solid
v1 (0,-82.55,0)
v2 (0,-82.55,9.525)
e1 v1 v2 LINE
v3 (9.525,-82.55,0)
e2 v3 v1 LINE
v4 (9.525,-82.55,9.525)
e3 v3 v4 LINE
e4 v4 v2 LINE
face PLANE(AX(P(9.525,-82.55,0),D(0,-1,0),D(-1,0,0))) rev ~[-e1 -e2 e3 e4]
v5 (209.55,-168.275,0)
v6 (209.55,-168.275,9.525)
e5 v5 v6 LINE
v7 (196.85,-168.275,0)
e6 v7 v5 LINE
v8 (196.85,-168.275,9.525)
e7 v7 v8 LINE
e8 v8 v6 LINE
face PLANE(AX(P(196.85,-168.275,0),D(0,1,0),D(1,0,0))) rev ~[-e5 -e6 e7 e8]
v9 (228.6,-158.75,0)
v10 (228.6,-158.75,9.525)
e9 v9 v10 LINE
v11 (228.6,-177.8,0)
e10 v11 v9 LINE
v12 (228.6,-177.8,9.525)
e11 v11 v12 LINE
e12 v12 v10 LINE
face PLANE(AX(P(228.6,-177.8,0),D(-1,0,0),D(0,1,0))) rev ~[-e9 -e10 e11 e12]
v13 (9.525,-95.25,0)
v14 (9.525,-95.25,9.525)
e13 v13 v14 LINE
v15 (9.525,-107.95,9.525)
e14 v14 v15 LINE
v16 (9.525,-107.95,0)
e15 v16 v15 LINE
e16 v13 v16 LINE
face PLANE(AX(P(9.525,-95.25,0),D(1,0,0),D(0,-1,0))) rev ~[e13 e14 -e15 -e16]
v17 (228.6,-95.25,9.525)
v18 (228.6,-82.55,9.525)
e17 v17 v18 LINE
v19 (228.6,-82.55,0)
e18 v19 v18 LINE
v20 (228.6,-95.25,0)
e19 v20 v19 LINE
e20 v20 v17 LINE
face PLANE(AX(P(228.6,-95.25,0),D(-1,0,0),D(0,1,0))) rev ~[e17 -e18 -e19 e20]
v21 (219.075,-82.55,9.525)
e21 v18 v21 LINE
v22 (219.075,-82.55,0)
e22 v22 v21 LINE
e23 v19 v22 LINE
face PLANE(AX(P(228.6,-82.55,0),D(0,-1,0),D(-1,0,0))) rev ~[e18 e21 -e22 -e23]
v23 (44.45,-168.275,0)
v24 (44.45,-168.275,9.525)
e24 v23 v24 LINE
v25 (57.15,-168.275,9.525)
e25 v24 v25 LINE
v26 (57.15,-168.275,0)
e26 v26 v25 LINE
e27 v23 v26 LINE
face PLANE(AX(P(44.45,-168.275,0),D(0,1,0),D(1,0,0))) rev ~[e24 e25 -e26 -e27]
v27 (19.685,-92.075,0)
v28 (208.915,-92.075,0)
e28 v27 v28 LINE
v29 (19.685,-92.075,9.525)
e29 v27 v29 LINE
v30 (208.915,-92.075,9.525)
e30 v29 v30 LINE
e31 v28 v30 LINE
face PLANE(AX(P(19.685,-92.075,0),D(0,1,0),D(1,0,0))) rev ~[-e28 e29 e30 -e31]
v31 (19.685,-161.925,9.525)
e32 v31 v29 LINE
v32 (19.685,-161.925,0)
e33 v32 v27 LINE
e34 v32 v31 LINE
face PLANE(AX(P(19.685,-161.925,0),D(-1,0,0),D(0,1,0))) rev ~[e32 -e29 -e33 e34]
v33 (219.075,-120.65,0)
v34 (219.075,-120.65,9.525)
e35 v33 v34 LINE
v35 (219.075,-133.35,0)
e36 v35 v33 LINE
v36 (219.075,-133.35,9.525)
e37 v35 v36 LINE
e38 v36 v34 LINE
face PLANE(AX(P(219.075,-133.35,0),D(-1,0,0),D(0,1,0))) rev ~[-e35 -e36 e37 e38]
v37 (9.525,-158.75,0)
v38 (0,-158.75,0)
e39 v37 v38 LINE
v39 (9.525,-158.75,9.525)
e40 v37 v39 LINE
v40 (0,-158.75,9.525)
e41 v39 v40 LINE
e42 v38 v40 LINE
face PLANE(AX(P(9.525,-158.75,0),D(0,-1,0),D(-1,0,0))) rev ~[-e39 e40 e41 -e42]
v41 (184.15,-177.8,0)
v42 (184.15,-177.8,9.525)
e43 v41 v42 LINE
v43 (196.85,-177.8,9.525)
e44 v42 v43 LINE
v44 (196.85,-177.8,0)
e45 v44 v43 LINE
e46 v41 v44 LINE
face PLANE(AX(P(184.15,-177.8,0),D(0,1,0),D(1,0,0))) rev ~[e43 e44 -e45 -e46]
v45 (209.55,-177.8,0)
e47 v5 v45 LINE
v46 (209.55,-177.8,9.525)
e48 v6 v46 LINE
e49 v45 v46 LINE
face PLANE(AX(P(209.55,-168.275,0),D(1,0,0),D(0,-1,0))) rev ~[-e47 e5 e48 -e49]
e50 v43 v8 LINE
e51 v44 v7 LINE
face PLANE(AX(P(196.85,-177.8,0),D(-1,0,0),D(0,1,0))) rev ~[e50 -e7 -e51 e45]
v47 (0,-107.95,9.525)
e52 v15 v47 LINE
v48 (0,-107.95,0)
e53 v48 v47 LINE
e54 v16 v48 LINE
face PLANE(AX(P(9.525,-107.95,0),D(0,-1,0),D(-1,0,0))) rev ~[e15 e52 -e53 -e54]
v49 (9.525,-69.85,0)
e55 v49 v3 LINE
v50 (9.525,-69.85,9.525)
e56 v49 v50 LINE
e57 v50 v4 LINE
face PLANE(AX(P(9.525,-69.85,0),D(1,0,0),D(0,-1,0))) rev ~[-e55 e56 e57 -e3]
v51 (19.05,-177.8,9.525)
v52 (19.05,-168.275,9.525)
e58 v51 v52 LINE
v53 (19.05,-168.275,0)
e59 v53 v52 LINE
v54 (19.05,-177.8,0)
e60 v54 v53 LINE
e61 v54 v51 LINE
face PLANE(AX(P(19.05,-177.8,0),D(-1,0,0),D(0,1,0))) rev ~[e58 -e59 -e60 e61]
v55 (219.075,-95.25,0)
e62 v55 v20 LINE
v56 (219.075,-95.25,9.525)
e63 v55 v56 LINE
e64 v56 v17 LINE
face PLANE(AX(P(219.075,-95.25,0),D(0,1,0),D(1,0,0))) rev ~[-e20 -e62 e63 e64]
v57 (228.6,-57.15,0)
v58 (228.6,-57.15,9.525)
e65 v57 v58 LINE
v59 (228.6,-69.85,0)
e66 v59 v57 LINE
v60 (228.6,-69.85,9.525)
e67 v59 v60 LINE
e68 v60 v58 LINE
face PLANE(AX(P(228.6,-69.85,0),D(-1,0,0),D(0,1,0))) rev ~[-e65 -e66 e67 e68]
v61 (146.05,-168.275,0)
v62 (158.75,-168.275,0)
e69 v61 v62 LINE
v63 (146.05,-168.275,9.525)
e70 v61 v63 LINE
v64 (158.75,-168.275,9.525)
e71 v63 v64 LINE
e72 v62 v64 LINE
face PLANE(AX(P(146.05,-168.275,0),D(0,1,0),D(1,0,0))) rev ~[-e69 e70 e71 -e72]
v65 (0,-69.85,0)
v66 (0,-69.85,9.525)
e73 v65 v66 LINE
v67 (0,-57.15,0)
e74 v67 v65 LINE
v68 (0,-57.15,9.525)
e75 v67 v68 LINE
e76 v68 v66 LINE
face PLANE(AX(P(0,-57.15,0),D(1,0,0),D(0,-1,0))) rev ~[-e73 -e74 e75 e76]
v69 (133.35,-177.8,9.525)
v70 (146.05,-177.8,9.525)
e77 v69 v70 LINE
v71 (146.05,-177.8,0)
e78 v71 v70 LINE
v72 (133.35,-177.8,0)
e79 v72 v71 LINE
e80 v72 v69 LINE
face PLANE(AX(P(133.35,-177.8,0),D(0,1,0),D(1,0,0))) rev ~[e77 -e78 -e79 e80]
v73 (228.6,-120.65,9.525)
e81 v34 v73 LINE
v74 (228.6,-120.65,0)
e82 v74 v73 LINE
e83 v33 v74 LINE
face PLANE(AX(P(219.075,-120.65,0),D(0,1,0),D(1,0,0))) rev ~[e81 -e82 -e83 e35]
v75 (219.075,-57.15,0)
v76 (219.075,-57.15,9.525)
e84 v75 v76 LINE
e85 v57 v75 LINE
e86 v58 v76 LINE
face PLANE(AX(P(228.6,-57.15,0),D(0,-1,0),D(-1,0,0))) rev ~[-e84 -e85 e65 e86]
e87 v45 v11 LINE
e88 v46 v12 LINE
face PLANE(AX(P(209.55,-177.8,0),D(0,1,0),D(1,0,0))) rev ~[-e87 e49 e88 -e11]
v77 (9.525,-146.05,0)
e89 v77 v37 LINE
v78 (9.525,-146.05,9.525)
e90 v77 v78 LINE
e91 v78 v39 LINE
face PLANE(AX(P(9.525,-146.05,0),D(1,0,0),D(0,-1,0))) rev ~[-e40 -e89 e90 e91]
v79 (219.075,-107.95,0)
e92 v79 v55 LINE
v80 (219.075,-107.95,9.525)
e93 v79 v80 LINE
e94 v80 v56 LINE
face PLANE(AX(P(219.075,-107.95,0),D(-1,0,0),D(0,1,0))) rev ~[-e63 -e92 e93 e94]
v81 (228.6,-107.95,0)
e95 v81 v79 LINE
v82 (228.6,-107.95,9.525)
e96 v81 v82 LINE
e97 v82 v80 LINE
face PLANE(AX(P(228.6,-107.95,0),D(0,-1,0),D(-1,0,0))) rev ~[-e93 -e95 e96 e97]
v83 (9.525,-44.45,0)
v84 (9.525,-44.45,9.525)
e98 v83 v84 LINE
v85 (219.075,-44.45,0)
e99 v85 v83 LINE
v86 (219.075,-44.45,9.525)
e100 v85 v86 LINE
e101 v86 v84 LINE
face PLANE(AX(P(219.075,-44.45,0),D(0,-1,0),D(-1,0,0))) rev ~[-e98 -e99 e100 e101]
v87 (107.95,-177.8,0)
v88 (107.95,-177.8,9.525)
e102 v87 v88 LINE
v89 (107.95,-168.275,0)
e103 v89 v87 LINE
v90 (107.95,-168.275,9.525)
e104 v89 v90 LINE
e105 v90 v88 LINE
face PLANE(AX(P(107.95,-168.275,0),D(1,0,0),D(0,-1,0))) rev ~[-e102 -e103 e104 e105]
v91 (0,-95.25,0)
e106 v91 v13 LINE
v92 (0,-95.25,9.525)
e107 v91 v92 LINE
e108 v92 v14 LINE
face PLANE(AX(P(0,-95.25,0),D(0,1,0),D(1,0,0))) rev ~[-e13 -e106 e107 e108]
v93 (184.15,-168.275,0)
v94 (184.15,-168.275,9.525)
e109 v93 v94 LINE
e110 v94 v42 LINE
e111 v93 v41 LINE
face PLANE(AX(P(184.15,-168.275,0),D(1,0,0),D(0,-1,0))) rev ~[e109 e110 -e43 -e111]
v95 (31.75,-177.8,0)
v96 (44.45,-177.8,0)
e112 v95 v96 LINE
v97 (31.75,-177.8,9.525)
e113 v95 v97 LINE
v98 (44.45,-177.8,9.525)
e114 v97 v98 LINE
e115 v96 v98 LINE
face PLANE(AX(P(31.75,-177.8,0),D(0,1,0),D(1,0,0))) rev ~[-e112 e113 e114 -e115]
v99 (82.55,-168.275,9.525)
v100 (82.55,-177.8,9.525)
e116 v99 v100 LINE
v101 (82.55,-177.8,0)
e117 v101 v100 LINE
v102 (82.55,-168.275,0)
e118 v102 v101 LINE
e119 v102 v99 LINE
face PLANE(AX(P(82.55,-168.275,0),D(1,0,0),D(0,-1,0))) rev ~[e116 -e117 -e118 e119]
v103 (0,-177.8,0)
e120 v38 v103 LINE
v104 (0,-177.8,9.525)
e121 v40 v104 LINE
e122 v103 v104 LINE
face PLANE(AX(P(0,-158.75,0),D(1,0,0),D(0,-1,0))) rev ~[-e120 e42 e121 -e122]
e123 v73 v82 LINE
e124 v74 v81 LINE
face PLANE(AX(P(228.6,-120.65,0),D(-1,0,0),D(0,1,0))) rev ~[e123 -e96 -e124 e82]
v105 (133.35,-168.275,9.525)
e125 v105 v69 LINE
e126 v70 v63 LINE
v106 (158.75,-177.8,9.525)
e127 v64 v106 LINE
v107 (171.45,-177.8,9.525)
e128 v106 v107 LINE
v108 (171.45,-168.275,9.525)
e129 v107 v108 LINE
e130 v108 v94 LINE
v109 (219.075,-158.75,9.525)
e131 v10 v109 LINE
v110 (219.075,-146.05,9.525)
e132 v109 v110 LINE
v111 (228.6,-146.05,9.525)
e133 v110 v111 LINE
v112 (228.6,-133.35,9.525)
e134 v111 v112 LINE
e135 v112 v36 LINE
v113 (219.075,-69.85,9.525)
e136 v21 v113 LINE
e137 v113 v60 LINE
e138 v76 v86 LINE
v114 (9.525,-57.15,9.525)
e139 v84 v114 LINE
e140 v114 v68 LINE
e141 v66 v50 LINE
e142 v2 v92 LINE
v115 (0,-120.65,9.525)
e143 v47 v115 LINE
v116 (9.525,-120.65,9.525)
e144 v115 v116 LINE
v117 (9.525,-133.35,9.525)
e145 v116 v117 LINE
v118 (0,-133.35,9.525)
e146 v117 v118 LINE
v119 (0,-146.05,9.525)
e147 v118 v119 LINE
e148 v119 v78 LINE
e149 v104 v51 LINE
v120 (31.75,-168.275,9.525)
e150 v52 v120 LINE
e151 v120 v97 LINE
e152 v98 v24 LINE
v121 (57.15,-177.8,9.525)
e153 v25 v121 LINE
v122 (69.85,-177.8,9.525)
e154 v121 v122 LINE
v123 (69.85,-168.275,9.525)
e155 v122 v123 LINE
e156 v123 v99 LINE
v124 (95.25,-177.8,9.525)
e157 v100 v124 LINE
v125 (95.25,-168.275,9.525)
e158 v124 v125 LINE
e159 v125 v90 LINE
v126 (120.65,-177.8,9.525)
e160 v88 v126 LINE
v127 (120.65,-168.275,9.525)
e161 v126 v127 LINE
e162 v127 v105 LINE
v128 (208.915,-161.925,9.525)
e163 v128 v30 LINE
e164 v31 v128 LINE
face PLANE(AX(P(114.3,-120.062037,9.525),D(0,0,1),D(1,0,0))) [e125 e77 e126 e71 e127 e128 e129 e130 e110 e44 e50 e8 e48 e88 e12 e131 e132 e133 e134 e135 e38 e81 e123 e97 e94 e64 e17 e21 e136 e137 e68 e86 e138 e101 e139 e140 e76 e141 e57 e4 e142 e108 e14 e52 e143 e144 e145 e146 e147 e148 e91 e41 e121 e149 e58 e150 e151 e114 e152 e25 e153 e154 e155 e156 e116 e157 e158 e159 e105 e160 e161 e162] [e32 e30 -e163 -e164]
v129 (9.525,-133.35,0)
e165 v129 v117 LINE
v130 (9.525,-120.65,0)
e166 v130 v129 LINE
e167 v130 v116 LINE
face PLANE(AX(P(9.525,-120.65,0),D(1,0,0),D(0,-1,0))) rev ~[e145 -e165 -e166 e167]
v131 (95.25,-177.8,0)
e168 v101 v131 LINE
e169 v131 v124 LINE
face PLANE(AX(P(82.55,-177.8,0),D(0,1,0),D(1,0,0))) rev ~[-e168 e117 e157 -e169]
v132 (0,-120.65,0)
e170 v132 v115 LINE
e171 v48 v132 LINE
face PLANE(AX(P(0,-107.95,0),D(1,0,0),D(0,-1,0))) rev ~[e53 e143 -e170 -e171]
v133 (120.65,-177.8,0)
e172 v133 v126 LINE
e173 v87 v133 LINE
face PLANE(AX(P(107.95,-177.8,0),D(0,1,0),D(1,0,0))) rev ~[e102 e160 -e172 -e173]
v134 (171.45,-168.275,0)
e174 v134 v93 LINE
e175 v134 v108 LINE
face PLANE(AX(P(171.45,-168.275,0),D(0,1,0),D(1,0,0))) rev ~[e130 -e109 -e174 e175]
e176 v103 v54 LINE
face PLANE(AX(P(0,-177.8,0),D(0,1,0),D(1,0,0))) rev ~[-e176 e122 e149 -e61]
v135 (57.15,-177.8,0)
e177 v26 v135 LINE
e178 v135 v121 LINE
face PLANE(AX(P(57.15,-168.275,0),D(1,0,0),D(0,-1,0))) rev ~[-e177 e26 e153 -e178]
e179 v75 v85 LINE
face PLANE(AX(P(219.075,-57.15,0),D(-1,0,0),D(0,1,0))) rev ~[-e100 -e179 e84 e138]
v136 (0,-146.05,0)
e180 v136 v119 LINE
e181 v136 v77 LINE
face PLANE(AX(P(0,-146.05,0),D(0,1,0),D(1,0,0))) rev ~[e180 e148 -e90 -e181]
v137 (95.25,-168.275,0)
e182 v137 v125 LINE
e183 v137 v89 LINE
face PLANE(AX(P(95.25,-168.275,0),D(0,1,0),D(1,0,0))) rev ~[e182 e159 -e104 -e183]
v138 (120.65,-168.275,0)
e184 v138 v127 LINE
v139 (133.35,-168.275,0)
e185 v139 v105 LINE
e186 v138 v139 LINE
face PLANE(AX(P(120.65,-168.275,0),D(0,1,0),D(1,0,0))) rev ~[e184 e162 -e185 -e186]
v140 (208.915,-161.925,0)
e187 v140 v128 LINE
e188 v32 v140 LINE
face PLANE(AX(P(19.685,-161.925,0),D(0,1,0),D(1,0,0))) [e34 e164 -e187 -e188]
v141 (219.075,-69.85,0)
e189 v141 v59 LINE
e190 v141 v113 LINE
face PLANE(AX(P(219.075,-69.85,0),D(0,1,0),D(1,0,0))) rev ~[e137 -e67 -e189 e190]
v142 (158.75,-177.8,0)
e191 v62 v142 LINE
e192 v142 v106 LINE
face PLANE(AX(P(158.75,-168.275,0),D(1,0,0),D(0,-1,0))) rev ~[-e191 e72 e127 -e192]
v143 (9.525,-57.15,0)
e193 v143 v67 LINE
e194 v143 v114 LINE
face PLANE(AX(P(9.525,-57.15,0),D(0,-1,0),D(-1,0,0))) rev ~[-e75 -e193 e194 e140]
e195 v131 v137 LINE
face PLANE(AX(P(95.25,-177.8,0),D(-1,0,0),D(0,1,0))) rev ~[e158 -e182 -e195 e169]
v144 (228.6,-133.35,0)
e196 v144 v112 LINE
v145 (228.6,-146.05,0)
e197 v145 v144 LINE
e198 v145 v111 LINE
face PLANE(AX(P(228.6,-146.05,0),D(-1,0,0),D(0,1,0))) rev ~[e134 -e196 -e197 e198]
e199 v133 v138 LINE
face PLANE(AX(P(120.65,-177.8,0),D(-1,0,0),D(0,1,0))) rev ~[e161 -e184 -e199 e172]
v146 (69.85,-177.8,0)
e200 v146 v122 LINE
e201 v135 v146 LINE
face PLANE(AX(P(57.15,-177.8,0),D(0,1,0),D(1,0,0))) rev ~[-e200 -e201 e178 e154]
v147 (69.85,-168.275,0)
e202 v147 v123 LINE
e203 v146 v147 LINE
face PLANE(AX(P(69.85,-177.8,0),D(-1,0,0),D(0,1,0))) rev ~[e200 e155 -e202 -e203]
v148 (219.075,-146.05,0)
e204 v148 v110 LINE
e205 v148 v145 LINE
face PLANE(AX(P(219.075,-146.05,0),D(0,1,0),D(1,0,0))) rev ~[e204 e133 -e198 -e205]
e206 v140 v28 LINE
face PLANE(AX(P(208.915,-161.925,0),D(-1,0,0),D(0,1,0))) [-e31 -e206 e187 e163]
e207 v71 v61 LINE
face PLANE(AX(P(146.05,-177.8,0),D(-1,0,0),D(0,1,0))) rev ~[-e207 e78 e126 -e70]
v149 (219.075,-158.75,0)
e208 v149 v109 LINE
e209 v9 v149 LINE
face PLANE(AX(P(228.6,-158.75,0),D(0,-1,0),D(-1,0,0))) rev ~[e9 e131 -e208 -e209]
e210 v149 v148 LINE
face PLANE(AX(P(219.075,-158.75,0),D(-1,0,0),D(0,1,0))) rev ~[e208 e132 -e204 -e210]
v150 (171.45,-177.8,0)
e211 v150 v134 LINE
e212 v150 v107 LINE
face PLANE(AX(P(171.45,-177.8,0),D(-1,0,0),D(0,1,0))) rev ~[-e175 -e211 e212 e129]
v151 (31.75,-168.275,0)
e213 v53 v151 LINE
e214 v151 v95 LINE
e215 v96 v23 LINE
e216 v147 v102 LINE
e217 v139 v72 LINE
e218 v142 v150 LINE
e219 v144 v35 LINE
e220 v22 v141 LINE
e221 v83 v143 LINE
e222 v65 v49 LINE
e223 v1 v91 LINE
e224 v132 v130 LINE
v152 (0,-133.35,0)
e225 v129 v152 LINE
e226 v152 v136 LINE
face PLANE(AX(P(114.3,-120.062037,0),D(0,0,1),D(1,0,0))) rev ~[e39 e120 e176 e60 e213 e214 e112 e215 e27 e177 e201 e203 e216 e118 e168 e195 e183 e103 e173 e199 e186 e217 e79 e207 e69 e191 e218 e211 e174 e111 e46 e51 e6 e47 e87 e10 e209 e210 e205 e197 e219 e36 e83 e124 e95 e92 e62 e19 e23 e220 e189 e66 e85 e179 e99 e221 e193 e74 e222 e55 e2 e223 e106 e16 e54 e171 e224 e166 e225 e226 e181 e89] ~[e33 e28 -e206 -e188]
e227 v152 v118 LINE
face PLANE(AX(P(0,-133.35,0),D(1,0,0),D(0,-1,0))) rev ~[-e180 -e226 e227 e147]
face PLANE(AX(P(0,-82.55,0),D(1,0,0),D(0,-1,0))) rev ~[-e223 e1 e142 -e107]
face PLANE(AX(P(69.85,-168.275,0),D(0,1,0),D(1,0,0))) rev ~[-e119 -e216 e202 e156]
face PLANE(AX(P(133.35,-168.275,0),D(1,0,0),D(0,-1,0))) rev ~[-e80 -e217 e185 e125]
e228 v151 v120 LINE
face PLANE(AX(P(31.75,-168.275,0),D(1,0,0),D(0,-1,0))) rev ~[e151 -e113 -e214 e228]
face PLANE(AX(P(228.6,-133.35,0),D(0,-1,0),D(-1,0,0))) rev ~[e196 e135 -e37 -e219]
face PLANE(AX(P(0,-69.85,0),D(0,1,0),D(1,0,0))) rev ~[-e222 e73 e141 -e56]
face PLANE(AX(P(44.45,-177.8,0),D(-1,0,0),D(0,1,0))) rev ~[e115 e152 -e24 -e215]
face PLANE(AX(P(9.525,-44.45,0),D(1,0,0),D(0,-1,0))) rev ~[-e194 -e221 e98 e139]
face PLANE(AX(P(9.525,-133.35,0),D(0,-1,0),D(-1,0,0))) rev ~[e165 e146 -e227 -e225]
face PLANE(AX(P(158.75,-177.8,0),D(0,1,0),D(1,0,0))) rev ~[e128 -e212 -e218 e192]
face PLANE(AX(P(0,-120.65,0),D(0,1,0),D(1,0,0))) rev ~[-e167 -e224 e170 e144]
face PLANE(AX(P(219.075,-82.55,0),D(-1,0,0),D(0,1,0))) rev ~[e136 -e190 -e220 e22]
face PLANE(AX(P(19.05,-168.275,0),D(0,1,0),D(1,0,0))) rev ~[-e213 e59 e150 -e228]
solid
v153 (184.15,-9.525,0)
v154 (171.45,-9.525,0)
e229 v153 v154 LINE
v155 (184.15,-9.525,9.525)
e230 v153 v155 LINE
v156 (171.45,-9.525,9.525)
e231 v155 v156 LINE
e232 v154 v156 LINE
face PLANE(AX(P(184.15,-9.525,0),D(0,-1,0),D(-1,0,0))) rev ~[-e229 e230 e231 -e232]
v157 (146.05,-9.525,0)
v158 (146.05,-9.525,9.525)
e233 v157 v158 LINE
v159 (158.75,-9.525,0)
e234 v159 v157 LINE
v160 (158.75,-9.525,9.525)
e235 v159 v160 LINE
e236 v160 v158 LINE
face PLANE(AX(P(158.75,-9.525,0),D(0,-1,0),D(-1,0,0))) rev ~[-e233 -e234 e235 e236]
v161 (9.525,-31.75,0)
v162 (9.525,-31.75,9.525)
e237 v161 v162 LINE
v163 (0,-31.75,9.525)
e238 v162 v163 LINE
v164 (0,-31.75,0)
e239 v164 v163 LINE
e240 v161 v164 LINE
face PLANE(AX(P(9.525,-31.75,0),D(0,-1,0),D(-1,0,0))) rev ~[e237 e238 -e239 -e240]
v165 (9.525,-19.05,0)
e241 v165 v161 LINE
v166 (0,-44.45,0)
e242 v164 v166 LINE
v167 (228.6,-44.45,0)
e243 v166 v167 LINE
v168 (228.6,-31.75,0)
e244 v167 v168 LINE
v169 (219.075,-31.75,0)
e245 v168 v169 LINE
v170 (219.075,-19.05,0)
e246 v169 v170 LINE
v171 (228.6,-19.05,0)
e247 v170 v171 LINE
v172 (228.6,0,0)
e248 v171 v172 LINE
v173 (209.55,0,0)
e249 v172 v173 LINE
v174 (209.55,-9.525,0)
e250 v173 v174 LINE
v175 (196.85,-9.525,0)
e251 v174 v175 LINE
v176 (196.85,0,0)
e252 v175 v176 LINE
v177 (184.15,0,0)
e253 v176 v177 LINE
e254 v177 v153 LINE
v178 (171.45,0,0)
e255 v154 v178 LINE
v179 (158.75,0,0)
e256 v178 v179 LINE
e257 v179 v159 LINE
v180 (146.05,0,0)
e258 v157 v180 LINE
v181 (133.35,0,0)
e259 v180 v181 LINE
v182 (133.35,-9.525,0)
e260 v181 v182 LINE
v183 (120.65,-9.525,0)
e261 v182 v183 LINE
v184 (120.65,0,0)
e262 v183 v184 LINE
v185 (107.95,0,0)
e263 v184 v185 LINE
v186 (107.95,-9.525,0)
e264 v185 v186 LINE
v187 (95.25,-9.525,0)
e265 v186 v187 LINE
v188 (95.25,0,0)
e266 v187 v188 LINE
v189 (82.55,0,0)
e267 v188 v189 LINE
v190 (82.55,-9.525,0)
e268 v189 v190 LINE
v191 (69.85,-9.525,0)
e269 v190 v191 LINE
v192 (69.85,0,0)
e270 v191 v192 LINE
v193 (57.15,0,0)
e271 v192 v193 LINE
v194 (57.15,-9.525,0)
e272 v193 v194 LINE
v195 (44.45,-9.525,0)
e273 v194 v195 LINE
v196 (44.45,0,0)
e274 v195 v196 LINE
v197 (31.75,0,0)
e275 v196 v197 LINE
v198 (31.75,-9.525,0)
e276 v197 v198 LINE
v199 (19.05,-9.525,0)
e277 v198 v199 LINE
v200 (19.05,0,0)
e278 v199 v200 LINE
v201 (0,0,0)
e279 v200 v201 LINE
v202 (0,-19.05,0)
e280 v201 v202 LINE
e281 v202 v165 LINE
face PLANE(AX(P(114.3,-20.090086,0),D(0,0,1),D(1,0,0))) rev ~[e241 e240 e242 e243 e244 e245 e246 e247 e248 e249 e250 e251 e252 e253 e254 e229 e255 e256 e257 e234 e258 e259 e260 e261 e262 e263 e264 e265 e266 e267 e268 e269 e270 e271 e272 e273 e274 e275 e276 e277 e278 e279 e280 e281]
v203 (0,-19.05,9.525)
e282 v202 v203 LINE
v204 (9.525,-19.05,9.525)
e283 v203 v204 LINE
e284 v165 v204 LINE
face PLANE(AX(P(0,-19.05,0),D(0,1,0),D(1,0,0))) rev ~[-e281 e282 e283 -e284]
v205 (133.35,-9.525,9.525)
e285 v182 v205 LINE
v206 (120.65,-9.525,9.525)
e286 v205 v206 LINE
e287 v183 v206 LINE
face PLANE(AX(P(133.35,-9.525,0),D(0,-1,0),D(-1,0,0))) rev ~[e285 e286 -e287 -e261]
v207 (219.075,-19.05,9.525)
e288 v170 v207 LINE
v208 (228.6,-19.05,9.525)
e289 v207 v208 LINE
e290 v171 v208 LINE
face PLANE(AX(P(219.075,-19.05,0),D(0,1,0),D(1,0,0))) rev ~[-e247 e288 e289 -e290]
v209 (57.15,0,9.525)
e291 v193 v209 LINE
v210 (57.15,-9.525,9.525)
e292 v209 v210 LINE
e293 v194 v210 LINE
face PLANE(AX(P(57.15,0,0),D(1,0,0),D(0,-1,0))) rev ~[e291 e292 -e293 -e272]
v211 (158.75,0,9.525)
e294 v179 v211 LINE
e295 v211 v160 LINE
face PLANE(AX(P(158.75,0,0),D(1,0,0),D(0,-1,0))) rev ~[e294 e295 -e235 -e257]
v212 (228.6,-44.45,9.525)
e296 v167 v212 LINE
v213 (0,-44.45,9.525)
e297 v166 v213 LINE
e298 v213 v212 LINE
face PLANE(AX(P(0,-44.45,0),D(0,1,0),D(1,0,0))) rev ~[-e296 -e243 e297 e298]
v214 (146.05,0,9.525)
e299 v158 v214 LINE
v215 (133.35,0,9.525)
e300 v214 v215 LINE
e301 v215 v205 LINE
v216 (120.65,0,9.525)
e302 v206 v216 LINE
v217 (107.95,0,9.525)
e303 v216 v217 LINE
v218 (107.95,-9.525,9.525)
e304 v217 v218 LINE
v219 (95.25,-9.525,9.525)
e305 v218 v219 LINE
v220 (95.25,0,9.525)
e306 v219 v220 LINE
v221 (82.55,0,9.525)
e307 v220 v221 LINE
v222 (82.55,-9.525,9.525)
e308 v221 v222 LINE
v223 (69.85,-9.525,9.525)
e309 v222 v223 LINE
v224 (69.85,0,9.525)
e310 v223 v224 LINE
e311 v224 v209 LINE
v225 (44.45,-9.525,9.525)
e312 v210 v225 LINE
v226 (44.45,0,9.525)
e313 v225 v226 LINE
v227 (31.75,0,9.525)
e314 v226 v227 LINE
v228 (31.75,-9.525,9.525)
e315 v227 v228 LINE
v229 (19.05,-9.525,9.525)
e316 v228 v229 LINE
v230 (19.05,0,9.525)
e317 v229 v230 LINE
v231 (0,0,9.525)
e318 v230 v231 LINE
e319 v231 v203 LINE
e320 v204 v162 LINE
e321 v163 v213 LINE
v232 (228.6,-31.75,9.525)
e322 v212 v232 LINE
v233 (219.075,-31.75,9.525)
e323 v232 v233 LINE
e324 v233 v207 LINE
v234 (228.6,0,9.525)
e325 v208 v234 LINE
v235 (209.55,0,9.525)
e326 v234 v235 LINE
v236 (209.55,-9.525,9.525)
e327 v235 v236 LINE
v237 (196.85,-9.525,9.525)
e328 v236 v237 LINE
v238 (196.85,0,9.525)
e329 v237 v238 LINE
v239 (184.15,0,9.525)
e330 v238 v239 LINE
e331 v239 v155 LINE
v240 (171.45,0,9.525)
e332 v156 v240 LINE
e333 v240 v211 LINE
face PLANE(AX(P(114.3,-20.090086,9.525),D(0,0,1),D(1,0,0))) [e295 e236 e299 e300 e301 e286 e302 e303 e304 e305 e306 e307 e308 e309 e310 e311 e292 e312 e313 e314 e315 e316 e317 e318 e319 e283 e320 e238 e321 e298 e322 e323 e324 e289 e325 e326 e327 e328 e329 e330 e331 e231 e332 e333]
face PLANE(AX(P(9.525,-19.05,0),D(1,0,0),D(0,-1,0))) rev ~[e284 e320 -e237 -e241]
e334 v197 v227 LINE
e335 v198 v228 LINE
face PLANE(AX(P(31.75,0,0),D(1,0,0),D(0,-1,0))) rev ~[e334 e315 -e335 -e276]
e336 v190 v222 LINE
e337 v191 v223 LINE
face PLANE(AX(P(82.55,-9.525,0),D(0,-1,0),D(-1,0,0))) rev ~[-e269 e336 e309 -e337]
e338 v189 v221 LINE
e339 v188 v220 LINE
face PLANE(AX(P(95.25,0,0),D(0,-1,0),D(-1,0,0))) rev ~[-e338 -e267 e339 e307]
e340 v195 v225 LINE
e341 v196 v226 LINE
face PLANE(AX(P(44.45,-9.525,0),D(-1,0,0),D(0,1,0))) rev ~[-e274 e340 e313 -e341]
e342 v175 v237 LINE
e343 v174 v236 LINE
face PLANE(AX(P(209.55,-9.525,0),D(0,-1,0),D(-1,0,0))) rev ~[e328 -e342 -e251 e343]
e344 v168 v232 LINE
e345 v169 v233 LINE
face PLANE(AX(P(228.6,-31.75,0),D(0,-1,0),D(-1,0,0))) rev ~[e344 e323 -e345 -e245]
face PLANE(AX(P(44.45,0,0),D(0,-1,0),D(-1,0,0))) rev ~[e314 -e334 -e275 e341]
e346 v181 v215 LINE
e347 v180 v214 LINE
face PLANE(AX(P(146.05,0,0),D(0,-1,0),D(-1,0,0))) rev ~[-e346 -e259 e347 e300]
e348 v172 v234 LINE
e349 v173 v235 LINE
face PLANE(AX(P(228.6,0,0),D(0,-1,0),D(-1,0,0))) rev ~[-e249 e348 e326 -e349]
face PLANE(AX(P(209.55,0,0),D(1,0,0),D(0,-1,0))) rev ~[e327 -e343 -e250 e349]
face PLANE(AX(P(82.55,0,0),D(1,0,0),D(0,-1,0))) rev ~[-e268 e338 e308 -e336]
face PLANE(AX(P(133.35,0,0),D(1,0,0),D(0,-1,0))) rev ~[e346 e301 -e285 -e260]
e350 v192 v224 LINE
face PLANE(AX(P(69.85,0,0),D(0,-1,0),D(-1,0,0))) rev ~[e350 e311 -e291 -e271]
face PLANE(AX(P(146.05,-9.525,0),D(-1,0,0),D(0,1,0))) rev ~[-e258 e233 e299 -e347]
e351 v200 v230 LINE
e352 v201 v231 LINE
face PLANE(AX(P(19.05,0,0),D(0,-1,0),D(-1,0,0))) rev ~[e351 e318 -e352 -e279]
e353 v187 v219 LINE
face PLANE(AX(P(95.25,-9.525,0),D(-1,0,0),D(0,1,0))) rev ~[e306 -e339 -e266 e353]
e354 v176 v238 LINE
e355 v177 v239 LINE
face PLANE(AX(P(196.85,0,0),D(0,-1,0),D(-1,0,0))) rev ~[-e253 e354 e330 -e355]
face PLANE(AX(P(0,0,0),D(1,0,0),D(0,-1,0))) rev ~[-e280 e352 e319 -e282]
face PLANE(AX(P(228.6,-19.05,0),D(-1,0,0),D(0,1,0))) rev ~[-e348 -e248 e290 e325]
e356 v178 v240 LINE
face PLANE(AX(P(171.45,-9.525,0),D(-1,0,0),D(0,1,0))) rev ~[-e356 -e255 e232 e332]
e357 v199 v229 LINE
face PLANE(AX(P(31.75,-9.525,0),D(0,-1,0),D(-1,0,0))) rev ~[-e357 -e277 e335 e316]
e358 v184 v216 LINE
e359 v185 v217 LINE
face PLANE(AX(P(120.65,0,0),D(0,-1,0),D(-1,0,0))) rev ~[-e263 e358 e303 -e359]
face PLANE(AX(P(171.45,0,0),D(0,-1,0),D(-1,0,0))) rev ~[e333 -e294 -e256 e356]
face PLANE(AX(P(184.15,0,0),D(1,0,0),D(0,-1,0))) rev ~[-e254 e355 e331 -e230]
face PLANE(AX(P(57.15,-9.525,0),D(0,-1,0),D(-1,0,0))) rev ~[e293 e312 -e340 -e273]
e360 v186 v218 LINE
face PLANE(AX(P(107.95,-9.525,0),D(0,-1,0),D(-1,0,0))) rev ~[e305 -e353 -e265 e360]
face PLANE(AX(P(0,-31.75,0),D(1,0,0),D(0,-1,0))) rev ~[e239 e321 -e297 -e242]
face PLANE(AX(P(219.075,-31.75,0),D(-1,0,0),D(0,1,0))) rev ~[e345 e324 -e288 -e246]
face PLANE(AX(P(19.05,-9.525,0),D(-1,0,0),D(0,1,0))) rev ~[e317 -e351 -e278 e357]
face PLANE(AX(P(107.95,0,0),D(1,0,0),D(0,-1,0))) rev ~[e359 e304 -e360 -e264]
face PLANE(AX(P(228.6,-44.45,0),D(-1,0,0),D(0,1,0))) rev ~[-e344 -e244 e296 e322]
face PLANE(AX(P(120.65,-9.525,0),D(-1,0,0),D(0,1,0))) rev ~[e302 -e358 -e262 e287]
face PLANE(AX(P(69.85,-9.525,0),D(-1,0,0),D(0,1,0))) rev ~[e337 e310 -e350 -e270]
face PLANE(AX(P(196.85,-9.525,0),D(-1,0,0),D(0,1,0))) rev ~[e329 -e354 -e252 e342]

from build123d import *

# Parameters (mm, degrees)
F1_DEPTH = 9.525
F0_W     = 189.23
F0_H     = 69.85
F2_DEPTH = 9.525


with BuildPart() as f1:
    # F0 (on Top) → F1 (new body)
    with BuildSketch(Plane.XY):
        Polygon((19.05, 0), (0, 0), (0, -19.05), (9.525, -19.05), (9.525, -31.75), (0, -31.75), (0, -44.45), (9.525, -44.45), (219.075, -44.45), (228.6, -44.45), (228.6, -31.75), (219.075, -31.75), (219.075, -19.05), (228.6, -19.05), (228.6, 0), (209.55, 0), (209.55, -9.525), (196.85, -9.525), (196.85, 0), (184.15, 0), (184.15, -9.525), (171.45, -9.525), (171.45, 0), (158.75, 0), (158.75, -9.525), (146.05, -9.525), (146.05, 0), (133.35, 0), (133.35, -9.525), (120.65, -9.525), (120.65, 0), (107.95, 0), (107.95, -9.525), (95.25, -9.525), (95.25, 0), (82.55, 0), (82.55, -9.525), (69.85, -9.525), (69.85, 0), (57.15, 0), (57.15, -9.525), (44.45, -9.525), (44.45, 0), (31.75, 0), (31.75, -9.525), (19.05, -9.525), align=None)
    extrude(amount=F1_DEPTH)


with BuildPart() as f2:
    # F0 (on Top) → F2 (new body)
    with BuildSketch(Plane.XY):
        Polygon((219.075, -44.45), (9.525, -44.45), (9.525, -57.15), (0, -57.15), (0, -69.85), (9.525, -69.85), (9.525, -82.55), (0, -82.55), (0, -95.25), (9.525, -95.25), (9.525, -107.95), (0, -107.95), (0, -120.65), (9.525, -120.65), (9.525, -133.35), (0, -133.35), (0, -146.05), (9.525, -146.05), (9.525, -158.75), (0, -158.75), (0, -177.8), (19.05, -177.8), (19.05, -168.275), (31.75, -168.275), (31.75, -177.8), (44.45, -177.8), (44.45, -168.275), (57.15, -168.275), (57.15, -177.8), (69.85, -177.8), (69.85, -168.275), (82.55, -168.275), (82.55, -177.8), (95.25, -177.8), (95.25, -168.275), (107.95, -168.275), (107.95, -177.8), (120.65, -177.8), (120.65, -168.275), (133.35, -168.275), (133.35, -177.8), (146.05, -177.8), (146.05, -168.275), (158.75, -168.275), (158.75, -177.8), (171.45, -177.8), (171.45, -168.275), (184.15, -168.275), (184.15, -177.8), (196.85, -177.8), (196.85, -168.275), (209.55, -168.275), (209.55, -177.8), (228.6, -177.8), (228.6, -158.75), (219.075, -158.75), (219.075, -146.05), (228.6, -146.05), (228.6, -133.35), (219.075, -133.35), (219.075, -120.65), (228.6, -120.65), (228.6, -107.95), (219.075, -107.95), (219.075, -95.25), (228.6, -95.25), (228.6, -82.55), (219.075, -82.55), (219.075, -69.85), (228.6, -69.85), (228.6, -57.15), (219.075, -57.15), align=None)
        with Locations((114.3, -127)):
            Rectangle(F0_W, F0_H, mode=Mode.SUBTRACT)
    extrude(amount=F2_DEPTH)


solid = Compound([f1.part, f2.part])
